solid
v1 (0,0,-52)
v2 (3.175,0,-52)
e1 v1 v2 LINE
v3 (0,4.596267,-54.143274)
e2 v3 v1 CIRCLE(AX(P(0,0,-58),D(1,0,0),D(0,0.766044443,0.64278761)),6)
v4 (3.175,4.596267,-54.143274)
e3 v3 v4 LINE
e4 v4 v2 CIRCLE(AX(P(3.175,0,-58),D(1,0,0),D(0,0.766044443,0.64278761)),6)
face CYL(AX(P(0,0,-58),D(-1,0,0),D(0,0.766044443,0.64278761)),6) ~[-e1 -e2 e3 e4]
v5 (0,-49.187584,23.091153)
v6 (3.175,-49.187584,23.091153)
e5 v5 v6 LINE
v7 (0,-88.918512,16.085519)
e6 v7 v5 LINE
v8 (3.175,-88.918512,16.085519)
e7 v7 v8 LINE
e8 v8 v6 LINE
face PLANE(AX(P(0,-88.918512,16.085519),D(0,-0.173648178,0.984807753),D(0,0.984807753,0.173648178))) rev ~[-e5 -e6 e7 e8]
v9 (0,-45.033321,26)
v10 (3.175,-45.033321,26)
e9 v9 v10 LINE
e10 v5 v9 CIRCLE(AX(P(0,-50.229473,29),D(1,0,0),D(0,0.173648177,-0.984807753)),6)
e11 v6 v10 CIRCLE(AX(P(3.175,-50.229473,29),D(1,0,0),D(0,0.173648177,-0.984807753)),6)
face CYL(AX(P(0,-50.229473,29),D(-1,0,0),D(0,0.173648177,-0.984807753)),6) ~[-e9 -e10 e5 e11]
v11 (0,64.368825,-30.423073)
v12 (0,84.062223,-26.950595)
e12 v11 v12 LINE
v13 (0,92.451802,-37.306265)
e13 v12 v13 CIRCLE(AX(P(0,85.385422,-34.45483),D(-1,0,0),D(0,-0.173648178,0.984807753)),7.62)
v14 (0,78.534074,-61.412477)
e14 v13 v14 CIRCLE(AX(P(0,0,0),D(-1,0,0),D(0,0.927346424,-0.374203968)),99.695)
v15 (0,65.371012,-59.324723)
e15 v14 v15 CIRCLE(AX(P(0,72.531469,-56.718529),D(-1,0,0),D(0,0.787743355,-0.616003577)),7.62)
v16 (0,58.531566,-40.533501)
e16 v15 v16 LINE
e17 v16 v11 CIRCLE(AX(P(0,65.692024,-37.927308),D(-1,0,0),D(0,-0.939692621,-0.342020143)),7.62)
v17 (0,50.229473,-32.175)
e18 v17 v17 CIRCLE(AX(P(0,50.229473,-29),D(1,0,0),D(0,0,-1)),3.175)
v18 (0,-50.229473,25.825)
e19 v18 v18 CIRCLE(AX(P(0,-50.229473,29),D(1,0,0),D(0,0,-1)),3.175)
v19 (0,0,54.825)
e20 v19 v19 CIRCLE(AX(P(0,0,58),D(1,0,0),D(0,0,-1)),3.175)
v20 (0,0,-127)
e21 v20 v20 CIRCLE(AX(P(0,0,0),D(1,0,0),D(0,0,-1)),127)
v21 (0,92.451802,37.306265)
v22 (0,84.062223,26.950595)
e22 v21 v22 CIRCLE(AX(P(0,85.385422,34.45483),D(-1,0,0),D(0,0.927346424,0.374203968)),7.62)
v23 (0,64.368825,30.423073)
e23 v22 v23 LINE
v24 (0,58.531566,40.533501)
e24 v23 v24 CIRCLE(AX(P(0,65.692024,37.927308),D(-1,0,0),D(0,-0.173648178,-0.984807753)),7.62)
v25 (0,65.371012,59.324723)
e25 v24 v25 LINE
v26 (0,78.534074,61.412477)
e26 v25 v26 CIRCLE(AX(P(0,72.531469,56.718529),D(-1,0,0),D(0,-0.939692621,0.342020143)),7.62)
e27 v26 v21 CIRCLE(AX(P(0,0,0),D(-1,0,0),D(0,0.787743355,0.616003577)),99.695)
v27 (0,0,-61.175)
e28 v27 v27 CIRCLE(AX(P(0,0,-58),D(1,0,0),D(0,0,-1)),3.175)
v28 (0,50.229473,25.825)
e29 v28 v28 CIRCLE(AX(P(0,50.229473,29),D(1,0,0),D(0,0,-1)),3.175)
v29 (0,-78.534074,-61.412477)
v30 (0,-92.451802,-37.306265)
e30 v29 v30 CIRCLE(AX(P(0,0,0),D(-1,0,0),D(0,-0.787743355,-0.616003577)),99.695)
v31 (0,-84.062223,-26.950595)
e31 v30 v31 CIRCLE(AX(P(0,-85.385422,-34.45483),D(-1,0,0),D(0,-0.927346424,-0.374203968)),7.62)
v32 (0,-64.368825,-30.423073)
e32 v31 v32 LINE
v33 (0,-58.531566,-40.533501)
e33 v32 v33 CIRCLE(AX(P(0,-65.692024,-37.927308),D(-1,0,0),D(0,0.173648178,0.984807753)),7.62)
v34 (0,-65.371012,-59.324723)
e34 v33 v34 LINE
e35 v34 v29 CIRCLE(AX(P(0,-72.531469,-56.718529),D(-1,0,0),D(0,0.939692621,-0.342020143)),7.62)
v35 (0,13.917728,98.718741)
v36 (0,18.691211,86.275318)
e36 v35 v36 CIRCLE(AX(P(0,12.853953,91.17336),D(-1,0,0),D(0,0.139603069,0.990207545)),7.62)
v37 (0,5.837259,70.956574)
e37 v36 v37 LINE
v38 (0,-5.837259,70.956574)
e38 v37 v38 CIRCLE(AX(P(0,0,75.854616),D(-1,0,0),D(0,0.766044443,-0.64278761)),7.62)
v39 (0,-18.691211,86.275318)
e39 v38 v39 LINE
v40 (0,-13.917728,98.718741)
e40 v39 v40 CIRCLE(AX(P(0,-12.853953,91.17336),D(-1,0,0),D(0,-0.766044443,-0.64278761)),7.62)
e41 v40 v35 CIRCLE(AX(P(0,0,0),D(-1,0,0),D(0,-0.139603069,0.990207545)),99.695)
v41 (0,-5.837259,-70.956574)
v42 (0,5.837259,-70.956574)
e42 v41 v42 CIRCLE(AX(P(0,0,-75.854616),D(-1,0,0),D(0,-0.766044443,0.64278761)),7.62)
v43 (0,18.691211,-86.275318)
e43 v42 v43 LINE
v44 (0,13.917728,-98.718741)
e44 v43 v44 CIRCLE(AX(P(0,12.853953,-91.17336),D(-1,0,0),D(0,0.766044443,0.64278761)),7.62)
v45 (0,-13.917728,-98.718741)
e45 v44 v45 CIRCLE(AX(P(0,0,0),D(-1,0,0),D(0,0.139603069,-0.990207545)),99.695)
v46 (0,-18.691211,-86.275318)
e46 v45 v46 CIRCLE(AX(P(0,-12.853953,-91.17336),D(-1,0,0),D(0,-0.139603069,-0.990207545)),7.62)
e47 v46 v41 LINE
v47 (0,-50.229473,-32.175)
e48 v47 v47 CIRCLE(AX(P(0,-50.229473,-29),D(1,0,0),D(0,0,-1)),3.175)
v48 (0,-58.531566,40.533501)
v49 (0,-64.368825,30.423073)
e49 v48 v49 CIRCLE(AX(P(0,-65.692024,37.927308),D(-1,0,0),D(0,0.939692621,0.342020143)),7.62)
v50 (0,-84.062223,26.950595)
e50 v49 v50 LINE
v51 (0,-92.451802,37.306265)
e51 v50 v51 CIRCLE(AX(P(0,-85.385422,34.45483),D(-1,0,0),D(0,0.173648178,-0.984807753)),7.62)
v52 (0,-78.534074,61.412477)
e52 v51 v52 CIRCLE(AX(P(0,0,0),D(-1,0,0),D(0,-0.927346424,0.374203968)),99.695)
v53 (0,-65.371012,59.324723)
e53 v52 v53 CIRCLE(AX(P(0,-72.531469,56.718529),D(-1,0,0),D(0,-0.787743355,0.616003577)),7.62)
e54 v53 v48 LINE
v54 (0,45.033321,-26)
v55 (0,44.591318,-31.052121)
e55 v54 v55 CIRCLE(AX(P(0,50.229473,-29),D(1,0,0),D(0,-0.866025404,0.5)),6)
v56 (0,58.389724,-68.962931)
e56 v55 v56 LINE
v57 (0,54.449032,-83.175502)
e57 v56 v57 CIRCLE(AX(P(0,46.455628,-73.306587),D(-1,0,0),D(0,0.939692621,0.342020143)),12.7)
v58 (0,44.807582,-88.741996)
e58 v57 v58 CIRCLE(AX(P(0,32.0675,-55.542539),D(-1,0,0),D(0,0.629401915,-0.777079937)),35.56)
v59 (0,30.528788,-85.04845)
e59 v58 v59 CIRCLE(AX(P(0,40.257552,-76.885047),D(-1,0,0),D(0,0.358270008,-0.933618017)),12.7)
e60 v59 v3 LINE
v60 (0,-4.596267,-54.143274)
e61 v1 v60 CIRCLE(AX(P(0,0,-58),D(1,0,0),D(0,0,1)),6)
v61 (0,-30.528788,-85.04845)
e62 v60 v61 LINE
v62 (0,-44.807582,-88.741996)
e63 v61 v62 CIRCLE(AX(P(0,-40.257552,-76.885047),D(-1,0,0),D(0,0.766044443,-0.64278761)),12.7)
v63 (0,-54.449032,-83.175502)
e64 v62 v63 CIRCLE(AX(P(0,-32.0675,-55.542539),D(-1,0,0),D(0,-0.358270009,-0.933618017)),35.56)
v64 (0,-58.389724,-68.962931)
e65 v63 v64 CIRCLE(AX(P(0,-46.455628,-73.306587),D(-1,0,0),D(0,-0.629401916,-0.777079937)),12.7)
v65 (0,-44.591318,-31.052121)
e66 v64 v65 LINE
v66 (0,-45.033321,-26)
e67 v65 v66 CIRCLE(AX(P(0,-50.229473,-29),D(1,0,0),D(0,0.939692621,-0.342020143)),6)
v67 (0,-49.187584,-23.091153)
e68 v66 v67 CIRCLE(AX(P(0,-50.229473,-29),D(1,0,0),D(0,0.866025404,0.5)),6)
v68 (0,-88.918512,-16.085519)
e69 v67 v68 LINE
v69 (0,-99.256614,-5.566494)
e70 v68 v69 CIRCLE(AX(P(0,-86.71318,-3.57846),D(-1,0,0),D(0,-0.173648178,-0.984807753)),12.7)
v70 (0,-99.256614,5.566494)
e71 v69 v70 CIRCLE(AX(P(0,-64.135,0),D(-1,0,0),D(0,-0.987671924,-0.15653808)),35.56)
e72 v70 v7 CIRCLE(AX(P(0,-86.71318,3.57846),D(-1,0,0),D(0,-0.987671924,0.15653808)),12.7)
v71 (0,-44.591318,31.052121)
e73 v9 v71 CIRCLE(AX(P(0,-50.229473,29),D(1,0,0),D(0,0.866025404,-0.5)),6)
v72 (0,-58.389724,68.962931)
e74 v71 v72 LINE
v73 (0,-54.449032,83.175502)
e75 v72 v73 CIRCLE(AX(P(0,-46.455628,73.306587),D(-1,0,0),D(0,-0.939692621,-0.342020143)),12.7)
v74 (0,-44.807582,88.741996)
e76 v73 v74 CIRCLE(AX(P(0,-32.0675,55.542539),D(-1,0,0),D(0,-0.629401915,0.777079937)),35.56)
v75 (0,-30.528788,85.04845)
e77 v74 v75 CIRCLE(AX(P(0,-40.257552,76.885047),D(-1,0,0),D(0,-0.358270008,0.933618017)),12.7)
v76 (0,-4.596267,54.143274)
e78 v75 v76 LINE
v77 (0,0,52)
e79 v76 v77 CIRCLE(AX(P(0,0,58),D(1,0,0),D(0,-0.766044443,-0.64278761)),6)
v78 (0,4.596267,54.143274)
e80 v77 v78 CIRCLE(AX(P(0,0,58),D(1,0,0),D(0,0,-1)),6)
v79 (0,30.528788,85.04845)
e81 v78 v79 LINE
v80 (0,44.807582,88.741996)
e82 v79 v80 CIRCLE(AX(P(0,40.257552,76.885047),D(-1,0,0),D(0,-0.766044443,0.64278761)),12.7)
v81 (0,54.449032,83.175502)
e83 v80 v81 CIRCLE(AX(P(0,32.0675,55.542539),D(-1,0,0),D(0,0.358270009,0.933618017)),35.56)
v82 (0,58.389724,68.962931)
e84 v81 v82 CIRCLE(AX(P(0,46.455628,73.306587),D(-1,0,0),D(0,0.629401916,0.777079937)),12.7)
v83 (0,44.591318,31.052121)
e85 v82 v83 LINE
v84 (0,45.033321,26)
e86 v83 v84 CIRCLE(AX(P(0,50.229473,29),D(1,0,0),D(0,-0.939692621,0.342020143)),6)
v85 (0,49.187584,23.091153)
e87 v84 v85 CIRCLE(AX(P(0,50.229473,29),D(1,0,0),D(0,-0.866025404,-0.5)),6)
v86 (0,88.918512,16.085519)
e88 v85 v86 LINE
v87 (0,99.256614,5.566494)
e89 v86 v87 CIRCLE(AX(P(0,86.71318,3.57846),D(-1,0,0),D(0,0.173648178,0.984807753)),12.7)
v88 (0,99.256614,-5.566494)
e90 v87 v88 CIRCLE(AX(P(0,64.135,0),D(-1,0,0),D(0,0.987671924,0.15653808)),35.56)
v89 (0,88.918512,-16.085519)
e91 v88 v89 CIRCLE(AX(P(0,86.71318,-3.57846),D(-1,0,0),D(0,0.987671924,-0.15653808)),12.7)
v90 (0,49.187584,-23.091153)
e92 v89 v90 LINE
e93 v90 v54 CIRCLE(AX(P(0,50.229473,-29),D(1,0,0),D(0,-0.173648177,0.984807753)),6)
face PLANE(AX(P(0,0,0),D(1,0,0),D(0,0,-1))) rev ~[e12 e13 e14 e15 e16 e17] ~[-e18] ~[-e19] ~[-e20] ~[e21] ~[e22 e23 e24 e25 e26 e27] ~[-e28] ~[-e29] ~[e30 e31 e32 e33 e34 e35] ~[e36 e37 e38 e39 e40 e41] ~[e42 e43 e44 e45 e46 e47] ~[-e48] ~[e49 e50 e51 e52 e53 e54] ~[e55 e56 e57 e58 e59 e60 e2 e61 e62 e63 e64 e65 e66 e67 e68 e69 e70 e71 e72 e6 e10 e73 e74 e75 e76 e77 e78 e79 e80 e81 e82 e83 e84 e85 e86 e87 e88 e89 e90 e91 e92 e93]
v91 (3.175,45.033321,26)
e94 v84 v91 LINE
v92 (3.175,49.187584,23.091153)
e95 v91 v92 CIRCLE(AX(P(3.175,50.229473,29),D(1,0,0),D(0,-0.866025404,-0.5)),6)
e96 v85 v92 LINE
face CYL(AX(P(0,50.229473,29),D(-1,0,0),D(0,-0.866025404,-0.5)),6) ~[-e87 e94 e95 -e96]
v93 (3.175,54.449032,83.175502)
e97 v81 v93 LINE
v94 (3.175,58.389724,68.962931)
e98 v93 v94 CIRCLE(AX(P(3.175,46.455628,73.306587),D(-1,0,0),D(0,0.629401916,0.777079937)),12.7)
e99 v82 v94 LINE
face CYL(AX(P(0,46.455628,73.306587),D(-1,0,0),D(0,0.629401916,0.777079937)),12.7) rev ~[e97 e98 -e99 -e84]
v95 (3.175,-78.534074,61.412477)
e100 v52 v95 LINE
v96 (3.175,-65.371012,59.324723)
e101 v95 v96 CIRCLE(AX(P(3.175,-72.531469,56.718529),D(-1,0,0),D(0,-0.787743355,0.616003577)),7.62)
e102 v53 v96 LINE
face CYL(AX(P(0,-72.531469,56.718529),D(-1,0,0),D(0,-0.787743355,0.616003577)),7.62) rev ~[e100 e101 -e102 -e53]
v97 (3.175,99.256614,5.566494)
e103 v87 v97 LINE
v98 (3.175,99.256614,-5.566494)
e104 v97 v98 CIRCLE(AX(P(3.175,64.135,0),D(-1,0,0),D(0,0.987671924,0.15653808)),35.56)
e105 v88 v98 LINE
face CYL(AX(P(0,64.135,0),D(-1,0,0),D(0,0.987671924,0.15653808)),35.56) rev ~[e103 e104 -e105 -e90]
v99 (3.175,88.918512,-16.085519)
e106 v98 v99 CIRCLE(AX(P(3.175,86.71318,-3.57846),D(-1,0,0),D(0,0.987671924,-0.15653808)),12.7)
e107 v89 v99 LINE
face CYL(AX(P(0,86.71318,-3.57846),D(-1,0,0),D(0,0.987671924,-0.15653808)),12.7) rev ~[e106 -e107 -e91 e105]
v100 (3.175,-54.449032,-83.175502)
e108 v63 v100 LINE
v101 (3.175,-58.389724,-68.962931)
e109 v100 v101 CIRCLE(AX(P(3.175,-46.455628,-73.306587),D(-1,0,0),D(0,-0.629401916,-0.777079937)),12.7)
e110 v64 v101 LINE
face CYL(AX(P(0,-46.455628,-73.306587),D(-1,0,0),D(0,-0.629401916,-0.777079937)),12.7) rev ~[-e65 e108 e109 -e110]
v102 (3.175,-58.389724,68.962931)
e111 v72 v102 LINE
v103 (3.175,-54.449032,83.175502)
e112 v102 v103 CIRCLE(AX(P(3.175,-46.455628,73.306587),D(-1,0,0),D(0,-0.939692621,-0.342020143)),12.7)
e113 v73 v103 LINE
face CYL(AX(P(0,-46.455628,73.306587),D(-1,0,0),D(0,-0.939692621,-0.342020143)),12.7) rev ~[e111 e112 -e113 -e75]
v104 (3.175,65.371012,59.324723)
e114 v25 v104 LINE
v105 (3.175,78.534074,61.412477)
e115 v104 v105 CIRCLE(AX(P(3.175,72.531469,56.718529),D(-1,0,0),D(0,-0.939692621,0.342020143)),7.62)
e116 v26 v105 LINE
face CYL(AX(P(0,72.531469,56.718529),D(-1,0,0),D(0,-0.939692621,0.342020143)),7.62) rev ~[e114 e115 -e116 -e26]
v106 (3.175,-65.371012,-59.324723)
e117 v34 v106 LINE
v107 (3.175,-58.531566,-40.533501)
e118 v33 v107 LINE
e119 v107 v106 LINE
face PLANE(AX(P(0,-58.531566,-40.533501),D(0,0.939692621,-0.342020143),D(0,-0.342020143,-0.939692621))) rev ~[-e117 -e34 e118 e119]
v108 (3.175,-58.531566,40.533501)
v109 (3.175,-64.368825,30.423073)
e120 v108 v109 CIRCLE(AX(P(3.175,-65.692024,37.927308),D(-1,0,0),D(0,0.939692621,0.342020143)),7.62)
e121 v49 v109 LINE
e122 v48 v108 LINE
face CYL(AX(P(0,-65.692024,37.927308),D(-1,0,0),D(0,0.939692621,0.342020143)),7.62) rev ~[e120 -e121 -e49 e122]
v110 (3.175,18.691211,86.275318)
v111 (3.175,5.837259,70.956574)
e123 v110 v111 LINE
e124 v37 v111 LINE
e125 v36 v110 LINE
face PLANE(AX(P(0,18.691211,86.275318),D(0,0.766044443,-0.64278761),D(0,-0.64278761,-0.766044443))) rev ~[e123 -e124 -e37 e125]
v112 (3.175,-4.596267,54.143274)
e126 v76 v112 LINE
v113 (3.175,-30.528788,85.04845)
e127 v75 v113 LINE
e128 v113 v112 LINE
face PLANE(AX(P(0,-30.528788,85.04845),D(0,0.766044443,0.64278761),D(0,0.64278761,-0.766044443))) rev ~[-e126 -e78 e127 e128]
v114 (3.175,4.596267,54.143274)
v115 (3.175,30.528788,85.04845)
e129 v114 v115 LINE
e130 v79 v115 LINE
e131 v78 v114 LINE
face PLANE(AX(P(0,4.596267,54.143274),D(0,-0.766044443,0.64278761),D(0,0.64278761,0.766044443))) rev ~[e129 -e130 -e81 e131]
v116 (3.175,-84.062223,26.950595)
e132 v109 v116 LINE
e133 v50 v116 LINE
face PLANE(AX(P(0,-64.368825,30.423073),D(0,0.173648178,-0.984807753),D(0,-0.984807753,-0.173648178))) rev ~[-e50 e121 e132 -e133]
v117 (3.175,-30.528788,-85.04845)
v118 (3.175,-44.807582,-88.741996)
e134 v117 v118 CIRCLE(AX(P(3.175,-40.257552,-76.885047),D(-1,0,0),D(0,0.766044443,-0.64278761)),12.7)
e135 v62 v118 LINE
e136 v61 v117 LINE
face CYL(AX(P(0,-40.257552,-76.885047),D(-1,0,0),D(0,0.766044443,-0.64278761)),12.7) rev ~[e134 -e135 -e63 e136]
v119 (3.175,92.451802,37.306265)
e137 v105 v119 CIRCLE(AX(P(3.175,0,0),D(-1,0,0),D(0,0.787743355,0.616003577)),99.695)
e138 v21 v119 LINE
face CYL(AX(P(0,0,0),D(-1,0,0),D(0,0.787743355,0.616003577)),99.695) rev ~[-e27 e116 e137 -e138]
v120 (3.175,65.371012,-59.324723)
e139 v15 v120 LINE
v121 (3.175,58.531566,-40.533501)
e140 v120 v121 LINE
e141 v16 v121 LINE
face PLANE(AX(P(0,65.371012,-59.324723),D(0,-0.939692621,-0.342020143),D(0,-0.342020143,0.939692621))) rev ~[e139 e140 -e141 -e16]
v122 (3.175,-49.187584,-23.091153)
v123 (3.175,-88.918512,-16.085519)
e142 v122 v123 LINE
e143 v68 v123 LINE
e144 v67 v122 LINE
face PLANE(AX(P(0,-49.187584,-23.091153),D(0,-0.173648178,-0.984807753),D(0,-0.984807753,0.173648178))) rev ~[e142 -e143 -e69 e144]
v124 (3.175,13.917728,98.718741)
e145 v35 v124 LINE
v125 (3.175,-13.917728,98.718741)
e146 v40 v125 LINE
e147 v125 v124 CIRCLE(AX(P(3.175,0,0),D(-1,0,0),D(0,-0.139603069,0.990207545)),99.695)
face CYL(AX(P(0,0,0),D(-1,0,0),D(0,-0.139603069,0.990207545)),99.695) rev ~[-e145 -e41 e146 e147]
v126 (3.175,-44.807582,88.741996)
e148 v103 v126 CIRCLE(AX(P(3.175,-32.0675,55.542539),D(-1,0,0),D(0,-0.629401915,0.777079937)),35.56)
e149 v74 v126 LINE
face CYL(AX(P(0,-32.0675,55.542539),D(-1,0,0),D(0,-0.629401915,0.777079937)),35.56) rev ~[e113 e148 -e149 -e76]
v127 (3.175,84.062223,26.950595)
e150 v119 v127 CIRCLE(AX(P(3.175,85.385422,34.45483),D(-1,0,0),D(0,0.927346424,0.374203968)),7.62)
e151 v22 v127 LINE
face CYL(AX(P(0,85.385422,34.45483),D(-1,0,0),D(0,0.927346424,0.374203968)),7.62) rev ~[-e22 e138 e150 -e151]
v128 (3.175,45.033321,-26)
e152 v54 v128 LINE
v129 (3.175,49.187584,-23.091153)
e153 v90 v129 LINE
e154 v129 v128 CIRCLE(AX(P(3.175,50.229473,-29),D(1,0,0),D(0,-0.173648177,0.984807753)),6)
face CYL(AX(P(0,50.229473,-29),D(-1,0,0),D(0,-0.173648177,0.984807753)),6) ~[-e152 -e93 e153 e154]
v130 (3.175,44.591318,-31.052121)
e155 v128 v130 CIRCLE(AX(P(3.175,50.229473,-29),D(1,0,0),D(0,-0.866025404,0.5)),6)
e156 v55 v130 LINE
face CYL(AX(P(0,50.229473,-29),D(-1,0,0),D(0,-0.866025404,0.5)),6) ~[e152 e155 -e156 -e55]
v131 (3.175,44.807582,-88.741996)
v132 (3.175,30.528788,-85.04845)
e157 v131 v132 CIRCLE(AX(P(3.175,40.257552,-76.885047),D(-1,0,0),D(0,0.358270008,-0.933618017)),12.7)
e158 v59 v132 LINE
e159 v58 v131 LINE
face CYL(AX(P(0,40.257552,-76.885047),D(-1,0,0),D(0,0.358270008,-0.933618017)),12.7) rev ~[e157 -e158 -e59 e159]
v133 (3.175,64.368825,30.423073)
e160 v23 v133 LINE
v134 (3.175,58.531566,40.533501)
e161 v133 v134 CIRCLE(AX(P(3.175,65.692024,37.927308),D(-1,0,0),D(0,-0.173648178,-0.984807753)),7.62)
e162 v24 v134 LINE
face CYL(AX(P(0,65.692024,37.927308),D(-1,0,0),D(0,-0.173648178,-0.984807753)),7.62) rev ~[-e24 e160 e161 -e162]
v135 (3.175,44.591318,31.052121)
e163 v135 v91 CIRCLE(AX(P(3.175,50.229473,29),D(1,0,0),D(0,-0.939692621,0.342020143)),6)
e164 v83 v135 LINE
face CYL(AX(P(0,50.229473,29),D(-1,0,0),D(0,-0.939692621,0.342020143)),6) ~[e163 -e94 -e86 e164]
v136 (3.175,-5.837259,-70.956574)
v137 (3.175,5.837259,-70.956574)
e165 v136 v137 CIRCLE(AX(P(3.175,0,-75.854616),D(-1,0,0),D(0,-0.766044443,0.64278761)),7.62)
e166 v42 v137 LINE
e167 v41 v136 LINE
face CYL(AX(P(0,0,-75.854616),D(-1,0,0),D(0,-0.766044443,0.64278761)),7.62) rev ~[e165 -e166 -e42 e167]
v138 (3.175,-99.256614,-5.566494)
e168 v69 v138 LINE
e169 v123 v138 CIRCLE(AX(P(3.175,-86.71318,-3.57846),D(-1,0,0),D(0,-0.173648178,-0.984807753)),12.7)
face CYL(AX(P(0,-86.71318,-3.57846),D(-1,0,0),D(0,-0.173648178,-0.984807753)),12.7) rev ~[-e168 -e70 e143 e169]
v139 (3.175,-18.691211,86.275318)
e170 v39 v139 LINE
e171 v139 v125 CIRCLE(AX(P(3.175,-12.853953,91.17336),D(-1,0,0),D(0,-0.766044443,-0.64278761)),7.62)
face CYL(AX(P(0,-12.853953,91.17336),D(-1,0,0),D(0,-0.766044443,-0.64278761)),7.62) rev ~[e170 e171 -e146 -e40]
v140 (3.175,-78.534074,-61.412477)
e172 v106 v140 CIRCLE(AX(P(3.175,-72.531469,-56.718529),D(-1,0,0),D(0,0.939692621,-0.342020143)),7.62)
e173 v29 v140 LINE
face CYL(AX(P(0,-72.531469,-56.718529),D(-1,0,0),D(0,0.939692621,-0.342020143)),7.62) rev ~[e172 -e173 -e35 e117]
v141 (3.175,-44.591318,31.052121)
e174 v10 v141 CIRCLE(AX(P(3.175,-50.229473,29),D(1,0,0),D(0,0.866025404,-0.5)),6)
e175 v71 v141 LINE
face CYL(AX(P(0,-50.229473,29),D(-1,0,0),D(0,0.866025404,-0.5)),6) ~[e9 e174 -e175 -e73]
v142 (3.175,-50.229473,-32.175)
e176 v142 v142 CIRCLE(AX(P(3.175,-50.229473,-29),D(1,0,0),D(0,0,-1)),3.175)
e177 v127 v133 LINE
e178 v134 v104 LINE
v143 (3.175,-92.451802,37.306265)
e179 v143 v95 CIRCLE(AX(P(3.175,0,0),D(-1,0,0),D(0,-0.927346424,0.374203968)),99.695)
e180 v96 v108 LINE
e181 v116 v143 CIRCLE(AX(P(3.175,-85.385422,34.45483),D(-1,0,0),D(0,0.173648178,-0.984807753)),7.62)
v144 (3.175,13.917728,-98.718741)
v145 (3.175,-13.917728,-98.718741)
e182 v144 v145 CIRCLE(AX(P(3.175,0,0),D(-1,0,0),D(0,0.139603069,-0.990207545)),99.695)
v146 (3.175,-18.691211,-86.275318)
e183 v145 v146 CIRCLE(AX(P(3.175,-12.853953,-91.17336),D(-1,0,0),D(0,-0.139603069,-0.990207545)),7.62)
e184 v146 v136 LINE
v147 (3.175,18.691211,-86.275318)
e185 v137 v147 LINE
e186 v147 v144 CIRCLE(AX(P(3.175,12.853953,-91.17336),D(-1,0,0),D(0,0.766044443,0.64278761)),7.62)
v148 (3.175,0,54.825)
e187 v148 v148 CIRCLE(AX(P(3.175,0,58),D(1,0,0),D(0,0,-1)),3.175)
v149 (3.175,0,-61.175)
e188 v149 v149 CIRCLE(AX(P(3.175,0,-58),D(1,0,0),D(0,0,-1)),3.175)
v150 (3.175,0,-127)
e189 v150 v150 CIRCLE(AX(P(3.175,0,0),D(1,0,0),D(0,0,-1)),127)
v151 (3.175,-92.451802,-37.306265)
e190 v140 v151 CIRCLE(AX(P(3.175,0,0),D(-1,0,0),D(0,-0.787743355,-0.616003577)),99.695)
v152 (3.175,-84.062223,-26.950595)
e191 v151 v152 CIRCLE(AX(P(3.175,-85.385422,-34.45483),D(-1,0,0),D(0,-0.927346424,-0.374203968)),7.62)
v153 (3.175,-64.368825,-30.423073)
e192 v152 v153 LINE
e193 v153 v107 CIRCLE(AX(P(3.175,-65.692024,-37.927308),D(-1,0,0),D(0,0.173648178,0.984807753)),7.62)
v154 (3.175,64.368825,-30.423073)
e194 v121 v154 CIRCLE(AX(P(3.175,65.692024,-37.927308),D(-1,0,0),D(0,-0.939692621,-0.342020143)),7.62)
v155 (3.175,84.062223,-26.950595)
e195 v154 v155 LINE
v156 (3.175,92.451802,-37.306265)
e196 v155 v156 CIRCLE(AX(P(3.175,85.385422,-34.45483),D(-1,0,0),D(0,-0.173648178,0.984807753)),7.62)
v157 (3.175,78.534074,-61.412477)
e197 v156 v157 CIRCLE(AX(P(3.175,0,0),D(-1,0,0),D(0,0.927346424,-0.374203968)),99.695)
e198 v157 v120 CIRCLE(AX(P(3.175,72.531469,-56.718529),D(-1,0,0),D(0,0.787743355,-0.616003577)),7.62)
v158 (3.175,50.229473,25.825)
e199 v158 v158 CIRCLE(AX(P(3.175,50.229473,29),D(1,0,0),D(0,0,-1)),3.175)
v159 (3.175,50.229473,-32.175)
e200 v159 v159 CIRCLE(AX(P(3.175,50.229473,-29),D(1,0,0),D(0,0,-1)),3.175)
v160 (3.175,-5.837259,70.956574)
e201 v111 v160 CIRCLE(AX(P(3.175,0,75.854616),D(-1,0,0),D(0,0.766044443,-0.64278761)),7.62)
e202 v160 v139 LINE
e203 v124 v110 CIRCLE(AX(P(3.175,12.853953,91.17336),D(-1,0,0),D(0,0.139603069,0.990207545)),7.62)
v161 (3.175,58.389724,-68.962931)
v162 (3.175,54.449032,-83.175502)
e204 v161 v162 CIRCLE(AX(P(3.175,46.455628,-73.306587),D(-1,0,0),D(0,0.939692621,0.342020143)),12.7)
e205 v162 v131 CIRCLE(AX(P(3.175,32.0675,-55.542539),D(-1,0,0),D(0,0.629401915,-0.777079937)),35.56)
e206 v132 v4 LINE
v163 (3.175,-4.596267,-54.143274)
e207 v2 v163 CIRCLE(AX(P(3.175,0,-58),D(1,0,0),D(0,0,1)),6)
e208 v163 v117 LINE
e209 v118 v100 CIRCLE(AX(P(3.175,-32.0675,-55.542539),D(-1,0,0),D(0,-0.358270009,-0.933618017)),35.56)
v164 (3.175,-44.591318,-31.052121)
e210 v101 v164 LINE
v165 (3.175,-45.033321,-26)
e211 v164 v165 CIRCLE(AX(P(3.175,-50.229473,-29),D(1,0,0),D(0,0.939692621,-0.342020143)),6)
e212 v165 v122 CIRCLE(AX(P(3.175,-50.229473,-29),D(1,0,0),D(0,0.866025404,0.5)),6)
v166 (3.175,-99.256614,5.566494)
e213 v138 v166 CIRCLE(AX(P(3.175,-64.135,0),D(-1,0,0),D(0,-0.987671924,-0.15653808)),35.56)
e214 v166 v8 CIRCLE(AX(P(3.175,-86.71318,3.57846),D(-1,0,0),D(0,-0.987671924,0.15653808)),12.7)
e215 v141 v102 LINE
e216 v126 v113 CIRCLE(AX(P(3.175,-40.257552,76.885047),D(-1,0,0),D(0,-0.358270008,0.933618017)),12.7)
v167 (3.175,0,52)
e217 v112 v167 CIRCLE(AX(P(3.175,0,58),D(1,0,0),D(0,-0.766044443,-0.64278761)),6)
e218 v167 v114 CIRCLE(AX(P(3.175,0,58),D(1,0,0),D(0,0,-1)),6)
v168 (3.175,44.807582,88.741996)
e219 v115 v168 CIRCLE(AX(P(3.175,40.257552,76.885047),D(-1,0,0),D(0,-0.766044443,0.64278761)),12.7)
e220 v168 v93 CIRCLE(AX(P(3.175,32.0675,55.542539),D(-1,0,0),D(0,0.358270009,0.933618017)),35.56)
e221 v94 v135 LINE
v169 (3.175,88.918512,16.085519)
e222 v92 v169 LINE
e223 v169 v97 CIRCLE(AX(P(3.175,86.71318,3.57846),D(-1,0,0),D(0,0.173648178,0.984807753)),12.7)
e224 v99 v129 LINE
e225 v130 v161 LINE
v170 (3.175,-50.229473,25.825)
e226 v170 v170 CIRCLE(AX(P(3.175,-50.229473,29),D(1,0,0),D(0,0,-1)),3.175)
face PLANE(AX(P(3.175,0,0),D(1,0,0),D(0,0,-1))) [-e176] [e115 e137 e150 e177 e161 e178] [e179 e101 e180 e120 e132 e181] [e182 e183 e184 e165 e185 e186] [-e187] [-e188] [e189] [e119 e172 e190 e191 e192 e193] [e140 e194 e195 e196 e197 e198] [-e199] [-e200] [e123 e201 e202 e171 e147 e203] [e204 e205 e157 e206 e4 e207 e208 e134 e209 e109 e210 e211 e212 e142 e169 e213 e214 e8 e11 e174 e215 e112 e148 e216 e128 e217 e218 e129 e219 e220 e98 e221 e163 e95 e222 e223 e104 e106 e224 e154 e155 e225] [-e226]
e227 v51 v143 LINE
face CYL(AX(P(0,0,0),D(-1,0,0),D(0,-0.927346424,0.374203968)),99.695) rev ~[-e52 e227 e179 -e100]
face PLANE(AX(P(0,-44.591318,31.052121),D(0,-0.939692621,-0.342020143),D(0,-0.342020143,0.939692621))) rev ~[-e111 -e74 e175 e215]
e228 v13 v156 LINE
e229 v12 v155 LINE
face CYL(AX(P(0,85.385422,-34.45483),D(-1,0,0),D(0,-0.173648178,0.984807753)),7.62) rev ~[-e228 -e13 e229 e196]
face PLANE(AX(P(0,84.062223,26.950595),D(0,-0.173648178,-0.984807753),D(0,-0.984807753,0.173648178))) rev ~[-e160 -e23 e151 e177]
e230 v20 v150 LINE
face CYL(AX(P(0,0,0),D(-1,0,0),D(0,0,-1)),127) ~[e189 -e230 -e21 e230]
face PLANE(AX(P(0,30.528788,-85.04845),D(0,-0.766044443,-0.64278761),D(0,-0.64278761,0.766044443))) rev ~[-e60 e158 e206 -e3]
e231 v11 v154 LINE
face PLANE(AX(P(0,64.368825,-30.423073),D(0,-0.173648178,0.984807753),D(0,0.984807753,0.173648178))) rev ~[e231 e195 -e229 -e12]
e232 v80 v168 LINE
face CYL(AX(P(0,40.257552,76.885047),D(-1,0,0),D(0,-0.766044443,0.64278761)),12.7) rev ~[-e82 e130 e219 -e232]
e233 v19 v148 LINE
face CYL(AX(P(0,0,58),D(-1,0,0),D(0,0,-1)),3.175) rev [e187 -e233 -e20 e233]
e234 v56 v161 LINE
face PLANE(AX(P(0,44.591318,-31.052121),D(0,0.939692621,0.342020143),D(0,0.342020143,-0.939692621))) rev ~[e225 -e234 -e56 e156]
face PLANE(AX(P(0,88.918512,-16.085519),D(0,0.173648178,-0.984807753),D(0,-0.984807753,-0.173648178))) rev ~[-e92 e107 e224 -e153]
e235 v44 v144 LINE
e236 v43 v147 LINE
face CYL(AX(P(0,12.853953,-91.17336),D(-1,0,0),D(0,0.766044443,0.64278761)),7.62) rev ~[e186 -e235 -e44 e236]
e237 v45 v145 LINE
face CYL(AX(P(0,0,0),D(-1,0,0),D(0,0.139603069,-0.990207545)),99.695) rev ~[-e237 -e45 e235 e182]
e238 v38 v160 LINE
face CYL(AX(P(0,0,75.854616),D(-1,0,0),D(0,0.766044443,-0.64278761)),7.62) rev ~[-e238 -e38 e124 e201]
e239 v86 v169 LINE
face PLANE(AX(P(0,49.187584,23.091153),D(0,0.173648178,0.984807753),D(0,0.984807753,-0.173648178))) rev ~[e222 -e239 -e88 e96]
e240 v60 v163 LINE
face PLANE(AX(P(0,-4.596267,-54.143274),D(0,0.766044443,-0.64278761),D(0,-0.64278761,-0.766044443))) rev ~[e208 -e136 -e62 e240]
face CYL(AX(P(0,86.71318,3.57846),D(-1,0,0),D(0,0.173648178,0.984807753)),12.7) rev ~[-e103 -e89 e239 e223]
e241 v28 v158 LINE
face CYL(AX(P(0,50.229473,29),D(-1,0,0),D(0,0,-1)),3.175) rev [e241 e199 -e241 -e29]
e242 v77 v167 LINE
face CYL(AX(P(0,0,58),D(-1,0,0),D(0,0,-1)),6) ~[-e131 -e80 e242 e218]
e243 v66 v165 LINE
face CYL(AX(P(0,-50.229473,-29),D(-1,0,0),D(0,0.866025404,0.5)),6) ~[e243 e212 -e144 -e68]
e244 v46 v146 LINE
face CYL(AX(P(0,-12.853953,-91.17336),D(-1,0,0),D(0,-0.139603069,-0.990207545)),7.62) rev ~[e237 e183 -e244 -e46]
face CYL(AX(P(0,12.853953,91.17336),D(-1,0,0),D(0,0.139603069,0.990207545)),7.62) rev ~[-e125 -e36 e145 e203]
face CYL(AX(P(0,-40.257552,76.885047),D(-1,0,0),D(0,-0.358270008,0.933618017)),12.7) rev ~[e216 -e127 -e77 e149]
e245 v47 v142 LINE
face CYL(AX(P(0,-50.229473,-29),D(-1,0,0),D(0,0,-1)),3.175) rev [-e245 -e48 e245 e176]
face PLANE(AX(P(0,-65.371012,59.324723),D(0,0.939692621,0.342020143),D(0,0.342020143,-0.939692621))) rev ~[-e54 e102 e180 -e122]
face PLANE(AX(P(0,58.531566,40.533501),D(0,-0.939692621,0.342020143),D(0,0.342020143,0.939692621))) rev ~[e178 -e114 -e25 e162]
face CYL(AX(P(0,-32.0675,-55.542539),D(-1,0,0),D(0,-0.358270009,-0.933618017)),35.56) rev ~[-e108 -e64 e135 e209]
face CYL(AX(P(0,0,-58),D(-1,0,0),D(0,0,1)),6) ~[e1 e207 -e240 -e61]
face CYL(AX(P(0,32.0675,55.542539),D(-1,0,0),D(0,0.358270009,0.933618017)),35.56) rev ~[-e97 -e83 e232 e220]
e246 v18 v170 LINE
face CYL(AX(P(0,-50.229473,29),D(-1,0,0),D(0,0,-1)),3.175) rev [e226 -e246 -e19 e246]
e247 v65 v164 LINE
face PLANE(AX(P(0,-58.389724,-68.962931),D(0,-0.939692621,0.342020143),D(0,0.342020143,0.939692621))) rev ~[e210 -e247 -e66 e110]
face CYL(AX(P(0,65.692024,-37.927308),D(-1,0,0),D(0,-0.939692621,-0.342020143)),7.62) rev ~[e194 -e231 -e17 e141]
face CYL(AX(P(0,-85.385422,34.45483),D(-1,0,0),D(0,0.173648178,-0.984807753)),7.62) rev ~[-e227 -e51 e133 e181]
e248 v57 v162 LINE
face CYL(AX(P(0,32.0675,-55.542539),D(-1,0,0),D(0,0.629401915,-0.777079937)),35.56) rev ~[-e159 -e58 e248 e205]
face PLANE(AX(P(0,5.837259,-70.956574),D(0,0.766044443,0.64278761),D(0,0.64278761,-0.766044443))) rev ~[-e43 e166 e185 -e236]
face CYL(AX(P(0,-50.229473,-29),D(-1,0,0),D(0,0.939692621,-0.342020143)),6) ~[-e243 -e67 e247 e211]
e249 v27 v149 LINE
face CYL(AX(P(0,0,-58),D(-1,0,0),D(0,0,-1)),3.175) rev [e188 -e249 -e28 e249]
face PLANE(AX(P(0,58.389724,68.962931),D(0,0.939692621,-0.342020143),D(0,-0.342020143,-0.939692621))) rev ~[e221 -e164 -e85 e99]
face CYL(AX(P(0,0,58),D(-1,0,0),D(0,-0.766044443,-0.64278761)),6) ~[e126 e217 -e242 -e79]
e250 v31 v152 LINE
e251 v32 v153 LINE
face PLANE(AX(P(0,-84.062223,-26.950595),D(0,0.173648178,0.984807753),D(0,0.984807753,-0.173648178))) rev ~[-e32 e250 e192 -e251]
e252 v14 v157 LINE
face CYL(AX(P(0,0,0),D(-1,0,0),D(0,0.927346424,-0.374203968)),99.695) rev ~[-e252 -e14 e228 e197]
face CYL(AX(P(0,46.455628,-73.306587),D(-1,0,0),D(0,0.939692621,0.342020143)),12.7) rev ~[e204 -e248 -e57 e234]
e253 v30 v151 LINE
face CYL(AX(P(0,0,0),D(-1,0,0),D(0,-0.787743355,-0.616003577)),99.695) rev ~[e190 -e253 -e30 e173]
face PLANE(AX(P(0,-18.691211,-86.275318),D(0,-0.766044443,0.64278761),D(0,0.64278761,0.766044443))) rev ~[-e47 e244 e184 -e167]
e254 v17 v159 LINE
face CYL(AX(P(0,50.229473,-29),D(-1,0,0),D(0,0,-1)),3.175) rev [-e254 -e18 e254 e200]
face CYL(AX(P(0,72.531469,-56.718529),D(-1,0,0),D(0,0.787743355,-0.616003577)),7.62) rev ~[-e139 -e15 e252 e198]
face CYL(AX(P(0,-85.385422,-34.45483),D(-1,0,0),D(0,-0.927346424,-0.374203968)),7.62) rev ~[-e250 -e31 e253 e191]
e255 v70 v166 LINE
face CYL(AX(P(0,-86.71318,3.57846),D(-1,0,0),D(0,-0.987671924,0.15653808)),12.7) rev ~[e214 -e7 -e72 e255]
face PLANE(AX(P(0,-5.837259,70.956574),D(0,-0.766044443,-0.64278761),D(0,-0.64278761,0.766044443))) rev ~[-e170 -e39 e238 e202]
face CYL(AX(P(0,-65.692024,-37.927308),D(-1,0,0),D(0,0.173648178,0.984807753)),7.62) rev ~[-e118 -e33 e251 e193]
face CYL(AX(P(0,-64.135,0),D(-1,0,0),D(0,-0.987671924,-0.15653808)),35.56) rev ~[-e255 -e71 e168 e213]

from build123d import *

# Parameters (mm, degrees)
SKETCH1_R           = 127
SKETCH1_R_2         = 3.175
BOSS_EXTRUDE1_DEPTH = 3.175


with BuildPart() as part:
    # Sketch1 → Boss-Extrude1 (new body)
    with BuildSketch(Plane(origin=(0, 0, 0), x_dir=(0, 0, -1), z_dir=(1, 0, 0))):
        Circle(SKETCH1_R)
        with BuildLine():
            ThreePointArc((-40.533501272, -58.531566299), (-34.11730778, -59.092910493), (-30.423072702, -64.368824956))
            Line((-30.423072702, -64.368824956), (-26.950595308, -84.062222874))
            ThreePointArc((-26.950595308, -84.062222874), (-29.658123464, -91.306232972), (-37.306264624, -92.451801739))
            ThreePointArc((-37.306264624, -92.451801739), (-49.8475, -86.33840263), (-61.412476619, -78.534073754))
            ThreePointArc((-61.412476619, -78.534073754), (-64.244455546, -71.337804834), (-59.324722854, -65.371011621))
            Line((-59.324722854, -65.371011621), (-40.533501272, -58.531566299))
        make_face(mode=Mode.SUBTRACT)
        with BuildLine():
            ThreePointArc((-70.956573975, 5.837258657), (-68.234615561, 0), (-70.956573975, -5.837258657))
            Line((-70.956573975, -5.837258657), (-86.275318162, -18.691211254))
            ThreePointArc((-86.275318162, -18.691211254), (-93.90257901, -19.968428138), (-98.718741244, -13.917727985))
            ThreePointArc((-98.718741244, -13.917727985), (-99.695, 0), (-98.718741244, 13.917727985))
            ThreePointArc((-98.718741244, 13.917727985), (-93.90257901, 19.968428138), (-86.275318162, 18.691211254))
            Line((-86.275318162, 18.691211254), (-70.956573975, 5.837258657))
        make_face(mode=Mode.SUBTRACT)
        with Locations((-29, -50.229473419)):
            Circle(SKETCH1_R_2, mode=Mode.SUBTRACT)
        with BuildLine():
            ThreePointArc((30.423072702, -64.368824956), (34.11730778, -59.092910493), (40.533501272, -58.531566299))
            Line((40.533501272, -58.531566299), (59.324722854, -65.371011621))
            ThreePointArc((59.324722854, -65.371011621), (64.244455546, -71.337804834), (61.412476619, -78.534073754))
            ThreePointArc((61.412476619, -78.534073754), (49.8475, -86.33840263), (37.306264624, -92.451801739))
            ThreePointArc((37.306264624, -92.451801739), (29.658123464, -91.306232972), (26.950595308, -84.062222874))
            Line((26.950595308, -84.062222874), (30.423072702, -64.368824956))
        make_face(mode=Mode.SUBTRACT)
        with Locations((29, -50.229473419)):
            Circle(SKETCH1_R_2, mode=Mode.SUBTRACT)
        with BuildLine():
            Line((16.085518962, 88.918512041), (23.091153482, 49.187584353))
            ThreePointArc((23.091153482, 49.187584353), (24.085087734, 46.788014801), (26, 45.033320997))
            ThreePointArc((26, 45.033320997), (28.477065544, 44.252305231), (31.05212086, 44.591317695))
            Line((31.05212086, 44.591317695), (68.962930813, 58.389724075))
            ThreePointArc((68.962930813, 58.389724075), (76.699872074, 58.693912553), (83.175501835, 54.449032119))
            ThreePointArc((83.175501835, 54.449032119), (86.33840263, 49.8475), (88.741995944, 44.807581502))
            ThreePointArc((88.741995944, 44.807581502), (89.180355355, 37.077081406), (85.048449775, 30.528787966))
            Line((85.048449775, 30.528787966), (54.143274342, 4.596266659))
            ThreePointArc((54.143274342, 4.596266659), (52.562153278, 2.53570957), (52, 0))
            ThreePointArc((52, 0), (52.562153278, -2.53570957), (54.143274342, -4.596266659))
            Line((54.143274342, -4.596266659), (85.048449775, -30.528787966))
            ThreePointArc((85.048449775, -30.528787966), (89.180355355, -37.077081406), (88.741995944, -44.807581502))
            ThreePointArc((88.741995944, -44.807581502), (86.33840263, -49.8475), (83.175501835, -54.449032119))
            ThreePointArc((83.175501835, -54.449032119), (76.699872074, -58.693912553), (68.962930813, -58.389724075))
            Line((68.962930813, -58.389724075), (31.05212086, -44.591317695))
            ThreePointArc((31.05212086, -44.591317695), (28.477065544, -44.252305231), (26, -45.033320997))
            ThreePointArc((26, -45.033320997), (24.085087734, -46.788014801), (23.091153482, -49.187584353))
            Line((23.091153482, -49.187584353), (16.085518962, -88.918512041))
            ThreePointArc((16.085518962, -88.918512041), (12.480483281, -95.770993959), (5.566494109, -99.256613621))
            ThreePointArc((5.566494109, -99.256613621), (0, -99.695), (-5.566494109, -99.256613621))
            ThreePointArc((-5.566494109, -99.256613621), (-12.480483281, -95.770993959), (-16.085518962, -88.918512041))
            Line((-16.085518962, -88.918512041), (-23.091153482, -49.187584353))
            ThreePointArc((-23.091153482, -49.187584353), (-24.085087734, -46.788014801), (-26, -45.033320997))
            ThreePointArc((-26, -45.033320997), (-28.477065544, -44.252305231), (-31.05212086, -44.591317695))
            Line((-31.05212086, -44.591317695), (-68.962930813, -58.389724075))
            ThreePointArc((-68.962930813, -58.389724075), (-76.699872074, -58.693912553), (-83.175501835, -54.449032119))
            ThreePointArc((-83.175501835, -54.449032119), (-86.33840263, -49.8475), (-88.741995944, -44.807581502))
            ThreePointArc((-88.741995944, -44.807581502), (-89.180355355, -37.077081406), (-85.048449775, -30.528787966))
            Line((-85.048449775, -30.528787966), (-54.143274342, -4.596266659))
            ThreePointArc((-54.143274342, -4.596266659), (-52.562153278, -2.53570957), (-52, 0))
            ThreePointArc((-52, 0), (-52.562153278, 2.53570957), (-54.143274342, 4.596266659))
            Line((-54.143274342, 4.596266659), (-85.048449775, 30.528787966))
            ThreePointArc((-85.048449775, 30.528787966), (-89.180355355, 37.077081406), (-88.741995944, 44.807581502))
            ThreePointArc((-88.741995944, 44.807581502), (-86.33840263, 49.8475), (-83.175501835, 54.449032119))
            ThreePointArc((-83.175501835, 54.449032119), (-76.699872074, 58.693912553), (-68.962930813, 58.389724075))
            Line((-68.962930813, 58.389724075), (-31.05212086, 44.591317695))
            ThreePointArc((-31.05212086, 44.591317695), (-28.477065544, 44.252305231), (-26, 45.033320997))
            ThreePointArc((-26, 45.033320997), (-24.085087734, 46.788014801), (-23.091153482, 49.187584353))
            Line((-23.091153482, 49.187584353), (-16.085518962, 88.918512041))
            ThreePointArc((-16.085518962, 88.918512041), (-12.480483281, 95.770993959), (-5.566494109, 99.256613621))
            ThreePointArc((-5.566494109, 99.256613621), (0, 99.695), (5.566494109, 99.256613621))
            ThreePointArc((5.566494109, 99.256613621), (12.480483281, 95.770993959), (16.085518962, 88.918512041))
        make_face(mode=Mode.SUBTRACT)
        with Locations((-58, 0)):
            Circle(SKETCH1_R_2, mode=Mode.SUBTRACT)
        with Locations((-29, 50.229473419)):
            Circle(SKETCH1_R_2, mode=Mode.SUBTRACT)
        with BuildLine():
            ThreePointArc((-30.423072702, 64.368824956), (-34.11730778, 59.092910493), (-40.533501272, 58.531566299))
            Line((-40.533501272, 58.531566299), (-59.324722854, 65.371011621))
            ThreePointArc((-59.324722854, 65.371011621), (-64.244455546, 71.337804834), (-61.412476619, 78.534073754))
            ThreePointArc((-61.412476619, 78.534073754), (-49.8475, 86.33840263), (-37.306264624, 92.451801739))
            ThreePointArc((-37.306264624, 92.451801739), (-29.658123464, 91.306232972), (-26.950595308, 84.062222874))
            Line((-26.950595308, 84.062222874), (-30.423072702, 64.368824956))
        make_face(mode=Mode.SUBTRACT)
        with Locations((58, 0)):
            Circle(SKETCH1_R_2, mode=Mode.SUBTRACT)
        with Locations((29, 50.229473419)):
            Circle(SKETCH1_R_2, mode=Mode.SUBTRACT)
        with BuildLine():
            ThreePointArc((70.956573975, -5.837258657), (68.234615561, 0), (70.956573975, 5.837258657))
            Line((70.956573975, 5.837258657), (86.275318162, 18.691211254))
            ThreePointArc((86.275318162, 18.691211254), (93.90257901, 19.968428138), (98.718741244, 13.917727985))
            ThreePointArc((98.718741244, 13.917727985), (99.695, 0), (98.718741244, -13.917727985))
            ThreePointArc((98.718741244, -13.917727985), (93.90257901, -19.968428138), (86.275318162, -18.691211254))
            Line((86.275318162, -18.691211254), (70.956573975, -5.837258657))
        make_face(mode=Mode.SUBTRACT)
        with BuildLine():
            ThreePointArc((40.533501272, 58.531566299), (34.11730778, 59.092910493), (30.423072702, 64.368824956))
            Line((30.423072702, 64.368824956), (26.950595308, 84.062222874))
            ThreePointArc((26.950595308, 84.062222874), (29.658123464, 91.306232972), (37.306264624, 92.451801739))
            ThreePointArc((37.306264624, 92.451801739), (49.8475, 86.33840263), (61.412476619, 78.534073754))
            ThreePointArc((61.412476619, 78.534073754), (64.244455546, 71.337804834), (59.324722854, 65.371011621))
            Line((59.324722854, 65.371011621), (40.533501272, 58.531566299))
        make_face(mode=Mode.SUBTRACT)
    extrude(amount=BOSS_EXTRUDE1_DEPTH)


solid = part.part
